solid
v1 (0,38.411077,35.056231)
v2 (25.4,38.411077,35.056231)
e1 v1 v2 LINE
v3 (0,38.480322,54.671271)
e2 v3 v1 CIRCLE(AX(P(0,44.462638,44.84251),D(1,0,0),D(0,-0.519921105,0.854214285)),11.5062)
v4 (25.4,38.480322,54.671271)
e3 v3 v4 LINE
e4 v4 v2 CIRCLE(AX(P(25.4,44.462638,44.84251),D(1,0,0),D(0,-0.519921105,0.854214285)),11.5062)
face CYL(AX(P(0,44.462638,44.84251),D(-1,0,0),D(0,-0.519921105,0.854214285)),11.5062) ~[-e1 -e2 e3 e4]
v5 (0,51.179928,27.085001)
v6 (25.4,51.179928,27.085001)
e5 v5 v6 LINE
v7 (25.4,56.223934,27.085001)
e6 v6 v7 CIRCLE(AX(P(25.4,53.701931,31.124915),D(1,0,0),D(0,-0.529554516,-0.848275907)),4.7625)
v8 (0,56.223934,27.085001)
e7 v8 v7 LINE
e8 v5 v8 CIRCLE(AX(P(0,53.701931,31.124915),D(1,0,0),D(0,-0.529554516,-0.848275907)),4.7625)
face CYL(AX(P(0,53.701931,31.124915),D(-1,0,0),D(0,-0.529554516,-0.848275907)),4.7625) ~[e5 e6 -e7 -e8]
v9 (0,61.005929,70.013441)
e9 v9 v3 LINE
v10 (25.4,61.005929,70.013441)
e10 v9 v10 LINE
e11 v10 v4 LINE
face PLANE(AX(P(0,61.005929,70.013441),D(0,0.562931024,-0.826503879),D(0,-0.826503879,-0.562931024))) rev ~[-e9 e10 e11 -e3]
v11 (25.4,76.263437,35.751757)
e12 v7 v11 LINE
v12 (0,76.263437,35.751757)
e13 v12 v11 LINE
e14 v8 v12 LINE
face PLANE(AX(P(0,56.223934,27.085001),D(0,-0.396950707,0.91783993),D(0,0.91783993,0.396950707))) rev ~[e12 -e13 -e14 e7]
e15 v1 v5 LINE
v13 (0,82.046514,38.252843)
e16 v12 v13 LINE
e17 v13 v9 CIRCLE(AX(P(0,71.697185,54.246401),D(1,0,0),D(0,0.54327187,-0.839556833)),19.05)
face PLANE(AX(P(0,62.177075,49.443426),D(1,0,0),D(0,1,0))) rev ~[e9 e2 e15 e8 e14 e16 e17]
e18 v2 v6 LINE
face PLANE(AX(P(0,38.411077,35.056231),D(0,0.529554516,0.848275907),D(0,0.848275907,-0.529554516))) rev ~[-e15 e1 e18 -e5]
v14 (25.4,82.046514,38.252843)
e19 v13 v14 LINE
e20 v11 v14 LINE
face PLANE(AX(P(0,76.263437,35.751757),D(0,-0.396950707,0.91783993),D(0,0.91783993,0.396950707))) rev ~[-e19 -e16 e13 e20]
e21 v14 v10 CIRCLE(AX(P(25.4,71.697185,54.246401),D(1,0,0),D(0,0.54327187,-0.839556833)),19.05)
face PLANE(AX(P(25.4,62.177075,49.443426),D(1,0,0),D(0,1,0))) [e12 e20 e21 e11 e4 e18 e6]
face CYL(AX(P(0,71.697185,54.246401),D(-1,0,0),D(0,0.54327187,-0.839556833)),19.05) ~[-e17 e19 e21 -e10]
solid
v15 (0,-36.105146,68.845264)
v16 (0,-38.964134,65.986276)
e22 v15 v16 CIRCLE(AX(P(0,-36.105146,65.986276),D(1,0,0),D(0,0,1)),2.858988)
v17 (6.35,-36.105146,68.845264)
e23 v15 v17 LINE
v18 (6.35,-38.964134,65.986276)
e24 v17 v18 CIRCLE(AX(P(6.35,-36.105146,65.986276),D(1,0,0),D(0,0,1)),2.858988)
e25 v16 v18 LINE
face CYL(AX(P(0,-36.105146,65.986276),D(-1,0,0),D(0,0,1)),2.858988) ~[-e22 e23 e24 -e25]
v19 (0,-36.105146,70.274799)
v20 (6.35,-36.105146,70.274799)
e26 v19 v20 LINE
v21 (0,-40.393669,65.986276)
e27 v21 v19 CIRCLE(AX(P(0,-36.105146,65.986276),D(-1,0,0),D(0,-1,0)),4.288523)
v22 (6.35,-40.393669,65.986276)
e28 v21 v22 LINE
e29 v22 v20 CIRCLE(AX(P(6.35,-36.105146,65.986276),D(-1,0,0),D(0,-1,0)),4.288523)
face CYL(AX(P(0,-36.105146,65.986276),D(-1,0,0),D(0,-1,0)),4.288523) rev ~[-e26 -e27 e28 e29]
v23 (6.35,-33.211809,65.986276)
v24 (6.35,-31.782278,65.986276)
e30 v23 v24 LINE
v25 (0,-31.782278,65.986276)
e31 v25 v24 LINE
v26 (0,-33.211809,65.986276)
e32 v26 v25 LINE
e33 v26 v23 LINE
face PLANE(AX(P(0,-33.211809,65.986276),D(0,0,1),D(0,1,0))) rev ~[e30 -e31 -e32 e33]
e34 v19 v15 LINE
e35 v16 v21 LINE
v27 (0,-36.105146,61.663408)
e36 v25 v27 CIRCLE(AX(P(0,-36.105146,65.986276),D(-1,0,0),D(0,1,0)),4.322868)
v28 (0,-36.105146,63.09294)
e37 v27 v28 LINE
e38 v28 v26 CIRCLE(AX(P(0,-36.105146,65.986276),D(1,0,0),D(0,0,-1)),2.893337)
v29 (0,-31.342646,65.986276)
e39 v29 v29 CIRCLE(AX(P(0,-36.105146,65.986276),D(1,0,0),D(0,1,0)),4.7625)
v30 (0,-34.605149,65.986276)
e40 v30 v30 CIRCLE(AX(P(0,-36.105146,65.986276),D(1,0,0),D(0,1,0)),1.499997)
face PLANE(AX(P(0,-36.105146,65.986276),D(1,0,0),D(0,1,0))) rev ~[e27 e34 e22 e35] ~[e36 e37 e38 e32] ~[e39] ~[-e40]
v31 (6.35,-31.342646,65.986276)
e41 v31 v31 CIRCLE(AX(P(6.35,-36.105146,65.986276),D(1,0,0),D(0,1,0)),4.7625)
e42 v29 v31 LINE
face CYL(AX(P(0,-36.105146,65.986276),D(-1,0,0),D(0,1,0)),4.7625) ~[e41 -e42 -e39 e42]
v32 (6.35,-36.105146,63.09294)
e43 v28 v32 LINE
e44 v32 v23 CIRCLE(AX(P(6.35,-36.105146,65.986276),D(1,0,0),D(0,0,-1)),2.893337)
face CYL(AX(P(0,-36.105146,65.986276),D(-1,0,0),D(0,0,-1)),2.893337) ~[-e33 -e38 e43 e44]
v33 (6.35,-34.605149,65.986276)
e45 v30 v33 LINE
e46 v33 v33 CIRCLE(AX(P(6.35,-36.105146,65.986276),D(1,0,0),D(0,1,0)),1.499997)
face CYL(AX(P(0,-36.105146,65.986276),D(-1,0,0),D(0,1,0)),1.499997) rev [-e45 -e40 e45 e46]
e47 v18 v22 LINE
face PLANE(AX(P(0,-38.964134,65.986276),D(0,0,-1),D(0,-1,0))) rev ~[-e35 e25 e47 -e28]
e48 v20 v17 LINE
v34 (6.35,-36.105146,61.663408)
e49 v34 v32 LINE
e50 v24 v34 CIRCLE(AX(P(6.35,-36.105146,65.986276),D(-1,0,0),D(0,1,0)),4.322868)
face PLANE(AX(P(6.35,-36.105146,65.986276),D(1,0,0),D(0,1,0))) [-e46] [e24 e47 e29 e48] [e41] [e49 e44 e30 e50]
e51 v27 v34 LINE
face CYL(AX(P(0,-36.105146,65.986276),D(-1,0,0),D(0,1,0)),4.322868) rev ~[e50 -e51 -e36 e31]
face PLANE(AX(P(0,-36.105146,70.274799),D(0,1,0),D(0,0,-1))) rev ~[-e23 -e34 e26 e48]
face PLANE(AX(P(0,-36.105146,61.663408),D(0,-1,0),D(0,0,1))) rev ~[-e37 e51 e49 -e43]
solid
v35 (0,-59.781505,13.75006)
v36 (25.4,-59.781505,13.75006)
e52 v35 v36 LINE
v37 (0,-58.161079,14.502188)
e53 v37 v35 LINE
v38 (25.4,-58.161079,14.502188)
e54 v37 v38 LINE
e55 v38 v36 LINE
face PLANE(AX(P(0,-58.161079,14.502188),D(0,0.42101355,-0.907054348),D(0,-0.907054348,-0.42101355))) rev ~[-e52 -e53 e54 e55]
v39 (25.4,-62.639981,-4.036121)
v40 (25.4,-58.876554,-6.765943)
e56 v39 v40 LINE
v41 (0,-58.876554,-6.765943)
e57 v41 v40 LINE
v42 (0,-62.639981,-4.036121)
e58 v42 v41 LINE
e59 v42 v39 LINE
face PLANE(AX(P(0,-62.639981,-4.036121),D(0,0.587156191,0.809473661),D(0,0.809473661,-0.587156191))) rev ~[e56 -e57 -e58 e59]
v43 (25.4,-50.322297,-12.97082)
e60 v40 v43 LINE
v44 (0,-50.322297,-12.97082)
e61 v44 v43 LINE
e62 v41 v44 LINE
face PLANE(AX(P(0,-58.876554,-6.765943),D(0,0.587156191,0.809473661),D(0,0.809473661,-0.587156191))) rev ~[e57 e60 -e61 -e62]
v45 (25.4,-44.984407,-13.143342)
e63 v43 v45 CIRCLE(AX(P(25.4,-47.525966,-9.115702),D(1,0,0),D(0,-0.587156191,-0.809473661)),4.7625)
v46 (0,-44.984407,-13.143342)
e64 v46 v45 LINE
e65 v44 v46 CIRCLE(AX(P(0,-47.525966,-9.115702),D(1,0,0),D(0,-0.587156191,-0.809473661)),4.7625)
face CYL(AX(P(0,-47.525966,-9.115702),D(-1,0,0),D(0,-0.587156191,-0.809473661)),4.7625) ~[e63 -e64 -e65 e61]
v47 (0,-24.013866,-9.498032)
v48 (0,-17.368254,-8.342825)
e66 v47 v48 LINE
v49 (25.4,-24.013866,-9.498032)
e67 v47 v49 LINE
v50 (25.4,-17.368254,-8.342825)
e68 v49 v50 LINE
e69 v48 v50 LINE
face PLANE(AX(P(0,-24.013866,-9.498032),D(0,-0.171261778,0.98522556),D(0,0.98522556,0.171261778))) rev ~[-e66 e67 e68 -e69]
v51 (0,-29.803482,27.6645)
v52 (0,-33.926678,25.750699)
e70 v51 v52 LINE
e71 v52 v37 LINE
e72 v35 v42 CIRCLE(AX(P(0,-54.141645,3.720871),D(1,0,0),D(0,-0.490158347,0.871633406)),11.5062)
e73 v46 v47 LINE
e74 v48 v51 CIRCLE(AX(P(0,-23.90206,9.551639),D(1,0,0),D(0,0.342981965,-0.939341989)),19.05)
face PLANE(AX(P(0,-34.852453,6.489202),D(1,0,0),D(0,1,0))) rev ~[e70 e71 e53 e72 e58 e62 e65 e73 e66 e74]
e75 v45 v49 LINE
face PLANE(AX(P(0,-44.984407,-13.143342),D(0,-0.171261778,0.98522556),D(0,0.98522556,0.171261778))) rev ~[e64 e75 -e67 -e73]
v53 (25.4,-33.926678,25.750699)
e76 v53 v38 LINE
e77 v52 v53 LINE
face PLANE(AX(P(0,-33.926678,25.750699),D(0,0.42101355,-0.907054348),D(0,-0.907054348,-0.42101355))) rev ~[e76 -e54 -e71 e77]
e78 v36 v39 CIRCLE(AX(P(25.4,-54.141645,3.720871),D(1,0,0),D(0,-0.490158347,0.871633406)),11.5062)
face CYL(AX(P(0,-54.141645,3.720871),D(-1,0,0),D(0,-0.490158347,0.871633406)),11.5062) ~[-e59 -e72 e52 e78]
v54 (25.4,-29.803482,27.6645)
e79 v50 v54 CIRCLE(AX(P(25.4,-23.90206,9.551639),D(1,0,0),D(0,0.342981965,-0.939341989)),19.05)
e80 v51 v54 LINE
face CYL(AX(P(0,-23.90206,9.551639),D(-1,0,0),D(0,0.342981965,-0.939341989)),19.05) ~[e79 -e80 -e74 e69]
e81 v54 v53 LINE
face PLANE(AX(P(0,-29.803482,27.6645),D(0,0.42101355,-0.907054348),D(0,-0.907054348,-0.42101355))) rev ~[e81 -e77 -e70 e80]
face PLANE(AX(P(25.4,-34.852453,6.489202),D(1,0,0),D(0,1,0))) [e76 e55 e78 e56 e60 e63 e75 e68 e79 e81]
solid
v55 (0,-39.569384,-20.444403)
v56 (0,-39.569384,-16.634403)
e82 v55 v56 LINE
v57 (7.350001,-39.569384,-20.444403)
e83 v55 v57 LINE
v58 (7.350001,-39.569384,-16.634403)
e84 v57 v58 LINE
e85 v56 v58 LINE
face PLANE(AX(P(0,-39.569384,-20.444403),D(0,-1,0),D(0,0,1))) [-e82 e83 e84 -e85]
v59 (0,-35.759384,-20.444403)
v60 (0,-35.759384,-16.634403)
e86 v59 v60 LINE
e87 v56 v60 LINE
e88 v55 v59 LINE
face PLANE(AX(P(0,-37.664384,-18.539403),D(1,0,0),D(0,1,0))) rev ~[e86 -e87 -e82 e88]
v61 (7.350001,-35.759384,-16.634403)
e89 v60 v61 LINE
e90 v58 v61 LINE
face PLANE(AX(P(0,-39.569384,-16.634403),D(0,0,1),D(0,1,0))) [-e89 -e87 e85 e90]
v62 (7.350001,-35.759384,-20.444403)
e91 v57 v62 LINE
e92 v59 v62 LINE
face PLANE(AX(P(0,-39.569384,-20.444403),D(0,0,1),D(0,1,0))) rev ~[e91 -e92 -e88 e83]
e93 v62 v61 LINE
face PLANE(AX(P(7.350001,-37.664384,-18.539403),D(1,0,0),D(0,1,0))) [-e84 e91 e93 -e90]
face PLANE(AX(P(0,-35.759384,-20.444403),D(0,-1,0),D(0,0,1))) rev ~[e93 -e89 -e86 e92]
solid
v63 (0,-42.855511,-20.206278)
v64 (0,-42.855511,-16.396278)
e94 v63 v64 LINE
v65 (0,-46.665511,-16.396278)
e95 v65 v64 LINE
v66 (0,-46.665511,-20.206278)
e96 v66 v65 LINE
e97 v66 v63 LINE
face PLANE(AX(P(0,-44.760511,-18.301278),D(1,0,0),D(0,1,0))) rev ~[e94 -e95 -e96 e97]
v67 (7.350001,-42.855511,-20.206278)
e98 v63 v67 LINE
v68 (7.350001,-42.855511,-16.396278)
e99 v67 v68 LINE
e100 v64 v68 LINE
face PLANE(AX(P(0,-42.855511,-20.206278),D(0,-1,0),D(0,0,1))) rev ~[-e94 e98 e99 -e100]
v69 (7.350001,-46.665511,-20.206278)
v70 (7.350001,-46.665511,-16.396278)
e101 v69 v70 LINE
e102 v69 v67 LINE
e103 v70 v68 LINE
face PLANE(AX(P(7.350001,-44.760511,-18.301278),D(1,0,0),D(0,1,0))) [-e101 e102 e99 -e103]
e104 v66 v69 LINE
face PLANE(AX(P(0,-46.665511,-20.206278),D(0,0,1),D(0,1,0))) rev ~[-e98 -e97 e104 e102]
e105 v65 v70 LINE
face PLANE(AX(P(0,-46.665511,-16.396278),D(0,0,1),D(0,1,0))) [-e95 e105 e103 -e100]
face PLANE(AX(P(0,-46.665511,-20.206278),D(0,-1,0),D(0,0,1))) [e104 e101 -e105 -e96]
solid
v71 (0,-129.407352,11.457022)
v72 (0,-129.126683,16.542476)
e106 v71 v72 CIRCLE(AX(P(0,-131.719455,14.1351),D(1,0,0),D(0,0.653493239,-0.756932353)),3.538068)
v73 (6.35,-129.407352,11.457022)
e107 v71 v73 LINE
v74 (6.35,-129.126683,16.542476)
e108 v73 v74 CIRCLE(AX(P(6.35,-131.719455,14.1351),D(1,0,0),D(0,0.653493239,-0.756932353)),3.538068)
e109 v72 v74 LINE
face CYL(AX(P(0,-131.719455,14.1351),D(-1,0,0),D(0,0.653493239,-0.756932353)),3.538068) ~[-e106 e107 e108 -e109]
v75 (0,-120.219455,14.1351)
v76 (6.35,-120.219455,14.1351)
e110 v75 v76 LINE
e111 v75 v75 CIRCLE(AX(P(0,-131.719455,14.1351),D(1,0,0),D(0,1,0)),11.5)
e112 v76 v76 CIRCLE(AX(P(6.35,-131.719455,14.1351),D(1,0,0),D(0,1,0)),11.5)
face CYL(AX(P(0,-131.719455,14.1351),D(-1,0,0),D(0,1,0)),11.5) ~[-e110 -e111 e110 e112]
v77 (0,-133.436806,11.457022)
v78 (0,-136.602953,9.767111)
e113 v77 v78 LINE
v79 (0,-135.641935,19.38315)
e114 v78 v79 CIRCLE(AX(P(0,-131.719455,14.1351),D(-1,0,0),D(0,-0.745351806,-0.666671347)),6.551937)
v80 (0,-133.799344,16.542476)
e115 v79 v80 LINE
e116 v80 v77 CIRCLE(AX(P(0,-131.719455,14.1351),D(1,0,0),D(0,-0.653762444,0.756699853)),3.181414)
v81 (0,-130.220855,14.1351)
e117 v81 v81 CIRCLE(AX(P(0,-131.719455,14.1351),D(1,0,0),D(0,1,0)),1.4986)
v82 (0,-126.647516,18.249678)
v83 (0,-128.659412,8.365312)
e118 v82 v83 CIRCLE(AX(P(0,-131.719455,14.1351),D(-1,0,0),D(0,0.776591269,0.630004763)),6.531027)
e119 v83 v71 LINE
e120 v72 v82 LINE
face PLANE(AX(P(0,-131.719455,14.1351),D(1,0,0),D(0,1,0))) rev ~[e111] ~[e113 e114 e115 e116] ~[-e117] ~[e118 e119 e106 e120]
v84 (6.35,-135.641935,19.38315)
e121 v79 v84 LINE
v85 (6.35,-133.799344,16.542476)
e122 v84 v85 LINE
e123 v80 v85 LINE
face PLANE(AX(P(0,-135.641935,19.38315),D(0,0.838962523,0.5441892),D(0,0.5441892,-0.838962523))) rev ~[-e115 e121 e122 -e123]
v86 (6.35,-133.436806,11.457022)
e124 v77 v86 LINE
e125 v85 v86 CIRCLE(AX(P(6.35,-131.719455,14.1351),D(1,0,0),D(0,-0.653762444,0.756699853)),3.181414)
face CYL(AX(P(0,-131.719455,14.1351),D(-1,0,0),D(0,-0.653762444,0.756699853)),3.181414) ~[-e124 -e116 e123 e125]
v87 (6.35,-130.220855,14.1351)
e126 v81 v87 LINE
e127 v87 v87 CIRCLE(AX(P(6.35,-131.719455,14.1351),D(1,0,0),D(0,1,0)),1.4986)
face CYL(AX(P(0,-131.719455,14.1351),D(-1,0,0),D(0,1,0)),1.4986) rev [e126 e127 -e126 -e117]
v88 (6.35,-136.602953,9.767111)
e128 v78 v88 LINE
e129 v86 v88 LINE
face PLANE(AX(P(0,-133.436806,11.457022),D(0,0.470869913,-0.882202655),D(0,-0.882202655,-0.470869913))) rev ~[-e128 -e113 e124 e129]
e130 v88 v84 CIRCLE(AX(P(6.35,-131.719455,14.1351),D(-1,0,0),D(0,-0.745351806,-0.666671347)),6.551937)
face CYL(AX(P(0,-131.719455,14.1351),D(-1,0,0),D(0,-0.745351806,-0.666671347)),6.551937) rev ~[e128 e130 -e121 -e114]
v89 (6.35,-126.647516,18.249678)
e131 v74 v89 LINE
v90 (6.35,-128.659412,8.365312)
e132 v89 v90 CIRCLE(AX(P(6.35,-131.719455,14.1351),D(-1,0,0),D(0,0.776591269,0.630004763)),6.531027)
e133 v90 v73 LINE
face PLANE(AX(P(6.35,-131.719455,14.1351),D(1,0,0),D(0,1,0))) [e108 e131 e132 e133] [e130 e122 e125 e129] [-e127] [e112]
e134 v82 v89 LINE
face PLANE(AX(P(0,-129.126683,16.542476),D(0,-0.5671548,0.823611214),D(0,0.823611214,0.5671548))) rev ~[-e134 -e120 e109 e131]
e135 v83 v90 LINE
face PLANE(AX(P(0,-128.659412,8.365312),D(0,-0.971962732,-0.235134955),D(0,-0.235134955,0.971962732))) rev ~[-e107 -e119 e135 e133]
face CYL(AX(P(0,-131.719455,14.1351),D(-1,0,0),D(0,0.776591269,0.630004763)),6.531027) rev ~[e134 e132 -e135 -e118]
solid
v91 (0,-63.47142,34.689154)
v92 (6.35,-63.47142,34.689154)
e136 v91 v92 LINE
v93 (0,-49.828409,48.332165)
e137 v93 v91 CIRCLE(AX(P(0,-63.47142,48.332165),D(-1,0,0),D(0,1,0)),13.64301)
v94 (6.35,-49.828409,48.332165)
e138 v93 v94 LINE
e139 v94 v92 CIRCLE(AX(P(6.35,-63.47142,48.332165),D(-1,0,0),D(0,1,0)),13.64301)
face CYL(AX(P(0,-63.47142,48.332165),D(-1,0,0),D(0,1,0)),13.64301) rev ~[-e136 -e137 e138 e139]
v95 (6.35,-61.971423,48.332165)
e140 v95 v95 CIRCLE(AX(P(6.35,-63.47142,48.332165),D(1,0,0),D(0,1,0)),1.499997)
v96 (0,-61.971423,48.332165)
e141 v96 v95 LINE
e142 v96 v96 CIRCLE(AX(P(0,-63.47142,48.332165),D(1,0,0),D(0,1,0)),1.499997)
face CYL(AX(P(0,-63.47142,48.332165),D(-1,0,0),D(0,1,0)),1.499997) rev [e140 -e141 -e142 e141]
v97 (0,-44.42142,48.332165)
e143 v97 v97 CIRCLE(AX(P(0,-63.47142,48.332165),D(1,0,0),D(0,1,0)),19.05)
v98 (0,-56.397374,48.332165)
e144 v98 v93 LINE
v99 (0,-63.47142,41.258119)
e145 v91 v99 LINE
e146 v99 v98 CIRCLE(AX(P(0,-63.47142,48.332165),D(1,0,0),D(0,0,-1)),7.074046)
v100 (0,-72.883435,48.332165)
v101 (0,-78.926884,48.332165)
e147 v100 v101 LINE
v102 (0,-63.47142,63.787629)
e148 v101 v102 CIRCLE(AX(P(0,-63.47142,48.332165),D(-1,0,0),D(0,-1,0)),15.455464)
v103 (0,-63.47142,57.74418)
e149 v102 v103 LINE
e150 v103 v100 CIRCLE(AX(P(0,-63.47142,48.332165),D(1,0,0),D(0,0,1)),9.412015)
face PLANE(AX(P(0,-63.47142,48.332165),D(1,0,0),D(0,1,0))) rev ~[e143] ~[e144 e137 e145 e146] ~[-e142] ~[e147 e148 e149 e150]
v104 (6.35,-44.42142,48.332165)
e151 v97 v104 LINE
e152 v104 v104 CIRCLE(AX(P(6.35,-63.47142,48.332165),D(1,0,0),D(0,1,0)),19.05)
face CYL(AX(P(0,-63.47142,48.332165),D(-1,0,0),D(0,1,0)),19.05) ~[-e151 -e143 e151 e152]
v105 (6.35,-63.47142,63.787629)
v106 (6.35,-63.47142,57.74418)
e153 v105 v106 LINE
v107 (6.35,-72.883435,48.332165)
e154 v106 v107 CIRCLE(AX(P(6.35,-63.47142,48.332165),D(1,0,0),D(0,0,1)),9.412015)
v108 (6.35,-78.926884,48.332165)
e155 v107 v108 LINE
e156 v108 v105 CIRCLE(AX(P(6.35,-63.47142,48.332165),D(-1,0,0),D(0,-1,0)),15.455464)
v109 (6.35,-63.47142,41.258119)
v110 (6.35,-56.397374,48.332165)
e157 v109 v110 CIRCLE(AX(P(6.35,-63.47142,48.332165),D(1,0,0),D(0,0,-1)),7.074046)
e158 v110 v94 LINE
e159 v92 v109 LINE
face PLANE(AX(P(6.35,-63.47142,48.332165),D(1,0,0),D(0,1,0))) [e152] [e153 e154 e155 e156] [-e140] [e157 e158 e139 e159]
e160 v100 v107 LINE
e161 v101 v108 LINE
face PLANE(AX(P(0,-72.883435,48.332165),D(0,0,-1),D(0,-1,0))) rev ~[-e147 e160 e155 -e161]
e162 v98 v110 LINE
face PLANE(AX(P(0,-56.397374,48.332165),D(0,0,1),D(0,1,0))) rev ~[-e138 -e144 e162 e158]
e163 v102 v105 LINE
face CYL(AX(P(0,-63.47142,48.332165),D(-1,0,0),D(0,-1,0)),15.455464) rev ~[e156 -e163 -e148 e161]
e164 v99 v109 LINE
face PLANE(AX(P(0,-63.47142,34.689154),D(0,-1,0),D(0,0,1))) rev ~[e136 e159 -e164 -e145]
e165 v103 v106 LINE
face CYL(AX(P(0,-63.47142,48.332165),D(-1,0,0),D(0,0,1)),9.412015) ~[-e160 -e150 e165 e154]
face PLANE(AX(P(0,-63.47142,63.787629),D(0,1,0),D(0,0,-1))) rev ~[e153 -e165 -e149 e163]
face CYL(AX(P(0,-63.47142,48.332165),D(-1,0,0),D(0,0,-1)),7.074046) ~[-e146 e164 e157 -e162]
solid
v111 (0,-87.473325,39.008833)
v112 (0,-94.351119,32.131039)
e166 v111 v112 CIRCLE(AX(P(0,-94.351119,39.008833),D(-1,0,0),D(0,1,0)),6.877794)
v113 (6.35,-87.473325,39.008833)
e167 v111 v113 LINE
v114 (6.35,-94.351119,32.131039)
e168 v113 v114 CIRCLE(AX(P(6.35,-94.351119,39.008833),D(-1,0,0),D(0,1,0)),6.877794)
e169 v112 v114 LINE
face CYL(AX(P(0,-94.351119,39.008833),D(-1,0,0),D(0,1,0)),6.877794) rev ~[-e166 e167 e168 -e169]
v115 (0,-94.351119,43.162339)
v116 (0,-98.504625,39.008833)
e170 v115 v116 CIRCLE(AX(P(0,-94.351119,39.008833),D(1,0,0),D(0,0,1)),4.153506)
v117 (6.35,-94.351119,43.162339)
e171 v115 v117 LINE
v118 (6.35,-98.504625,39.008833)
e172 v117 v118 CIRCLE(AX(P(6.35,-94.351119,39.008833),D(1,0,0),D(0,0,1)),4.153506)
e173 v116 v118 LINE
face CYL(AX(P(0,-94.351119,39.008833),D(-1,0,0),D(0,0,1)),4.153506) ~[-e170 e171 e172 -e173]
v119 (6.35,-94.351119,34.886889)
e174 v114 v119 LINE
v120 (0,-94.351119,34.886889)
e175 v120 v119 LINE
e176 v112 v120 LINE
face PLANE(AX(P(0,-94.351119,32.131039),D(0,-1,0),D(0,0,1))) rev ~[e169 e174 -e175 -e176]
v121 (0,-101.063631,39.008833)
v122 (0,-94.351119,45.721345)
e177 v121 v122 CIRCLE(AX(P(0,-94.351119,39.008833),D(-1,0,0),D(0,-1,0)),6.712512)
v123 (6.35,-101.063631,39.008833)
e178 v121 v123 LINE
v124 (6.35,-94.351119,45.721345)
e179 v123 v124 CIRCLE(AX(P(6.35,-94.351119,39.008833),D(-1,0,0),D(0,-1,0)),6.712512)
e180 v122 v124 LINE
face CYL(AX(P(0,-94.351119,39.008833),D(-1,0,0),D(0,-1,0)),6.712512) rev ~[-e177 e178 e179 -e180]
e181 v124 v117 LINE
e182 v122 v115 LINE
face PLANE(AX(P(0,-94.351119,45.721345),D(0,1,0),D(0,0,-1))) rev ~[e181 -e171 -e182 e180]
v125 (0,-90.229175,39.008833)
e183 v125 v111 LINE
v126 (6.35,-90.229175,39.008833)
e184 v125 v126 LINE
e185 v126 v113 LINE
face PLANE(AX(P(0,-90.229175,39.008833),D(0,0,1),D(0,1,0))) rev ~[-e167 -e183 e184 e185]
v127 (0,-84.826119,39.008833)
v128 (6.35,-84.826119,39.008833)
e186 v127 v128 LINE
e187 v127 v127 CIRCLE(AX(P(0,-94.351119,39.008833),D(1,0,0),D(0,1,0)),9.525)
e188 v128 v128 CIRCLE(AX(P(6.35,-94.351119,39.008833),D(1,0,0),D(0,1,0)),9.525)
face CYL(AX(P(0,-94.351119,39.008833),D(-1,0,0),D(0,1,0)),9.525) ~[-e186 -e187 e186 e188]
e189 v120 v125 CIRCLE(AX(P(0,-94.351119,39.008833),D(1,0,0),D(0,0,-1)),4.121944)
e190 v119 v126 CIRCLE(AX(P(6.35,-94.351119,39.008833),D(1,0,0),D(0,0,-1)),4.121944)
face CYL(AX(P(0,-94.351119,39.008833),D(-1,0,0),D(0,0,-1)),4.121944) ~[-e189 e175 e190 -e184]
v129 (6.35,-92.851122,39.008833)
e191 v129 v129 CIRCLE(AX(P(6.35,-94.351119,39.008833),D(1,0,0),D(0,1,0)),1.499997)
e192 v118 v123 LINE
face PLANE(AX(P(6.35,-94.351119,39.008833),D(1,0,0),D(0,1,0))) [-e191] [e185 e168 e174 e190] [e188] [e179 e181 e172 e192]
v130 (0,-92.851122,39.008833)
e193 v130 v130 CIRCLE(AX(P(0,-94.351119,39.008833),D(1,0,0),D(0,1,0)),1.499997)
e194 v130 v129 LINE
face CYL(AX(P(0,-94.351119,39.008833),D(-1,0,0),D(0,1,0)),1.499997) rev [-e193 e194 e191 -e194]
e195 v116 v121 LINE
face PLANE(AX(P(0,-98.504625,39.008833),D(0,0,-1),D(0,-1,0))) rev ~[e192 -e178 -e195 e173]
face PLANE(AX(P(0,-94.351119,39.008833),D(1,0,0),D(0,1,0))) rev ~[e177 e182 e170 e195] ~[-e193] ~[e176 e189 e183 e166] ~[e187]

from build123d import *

# Parameters (mm, degrees)
F1_W     = 3.81
F1_H     = 3.81
F2_DEPTH = 7.35000054
F0_R     = 19.05
F0_R_2   = 1.499997
F3_DEPTH = 6.35
F0_R_3   = 4.7625
F0_R_4   = 9.525
F0_R_5   = 11.5
F0_R_6   = 1.4986
F4_DEPTH = 25.4
F5_DEPTH = 25.4


with BuildPart() as f2:
    # F1 (on Right) → F2 (new body)
    with BuildSketch(Plane.YZ):
        with Locations((-44.7605111825, -18.301277816)):
            Rectangle(F1_W, F1_H)
    extrude(amount=F2_DEPTH)


with BuildPart() as f2b:
    # F1 (on Right) → F2, piece 2 (new body)
    with BuildSketch(Plane.YZ):
        with Locations((-37.6643843636, -18.539402816)):
            Rectangle(F1_W, F1_H)
    extrude(amount=F2_DEPTH)


with BuildPart() as f3:
    # F0 (on Right) → F3 (new body)
    with BuildSketch(Plane.YZ):
        with Locations((-63.4714198452, 48.3321648699)):
            Circle(F0_R)
        with BuildLine():
            Line((-63.4714198452, 34.6891544759), (-63.4714198452, 41.2581190467))
            ThreePointArc((-63.4714198452, 41.2581190467), (-58.4693140731, 43.3300590979), (-56.3973740219, 48.3321648699))
            Line((-56.3973740219, 48.3321648699), (-49.8284094511, 48.3321648699))
            ThreePointArc((-49.8284094511, 48.3321648699), (-53.8243546798, 38.6850997045), (-63.4714198452, 34.6891544759))
        make_face(mode=Mode.SUBTRACT)
        with Locations((-63.4714198452, 48.3321648699)):
            Circle(F0_R_2, mode=Mode.SUBTRACT)
        with BuildLine():
            ThreePointArc((-63.4714198452, 57.7441796185), (-70.1267192985, 54.9874643232), (-72.8834345937, 48.3321648699))
            Line((-72.8834345937, 48.3321648699), (-78.9268836379, 48.3321648699))
            ThreePointArc((-78.9268836379, 48.3321648699), (-74.4000830994, 59.2608281242), (-63.4714198452, 63.7876286627))
            Line((-63.4714198452, 63.7876286627), (-63.4714198452, 57.7441796185))
        make_face(mode=Mode.SUBTRACT)
    extrude(amount=F3_DEPTH)


with BuildPart() as f3b:
    # F0 (on Right) → F3, piece 2 (new body)
    with BuildSketch(Plane.YZ):
        with Locations((-36.1051460727, 65.9862762386)):
            Circle(F0_R_3)
        with BuildLine():
            Line((-36.1051460727, 61.6634078324), (-36.1051460727, 63.0929395556))
            ThreePointArc((-36.1051460727, 63.0929395556), (-34.0592480839, 63.9403782498), (-33.2118093897, 65.9862762386))
            Line((-33.2118093897, 65.9862762386), (-31.7822776665, 65.9862762386))
            ThreePointArc((-31.7822776665, 65.9862762386), (-33.0484165085, 62.9295466744), (-36.1051460727, 61.6634078324))
        make_face(mode=Mode.SUBTRACT)
        with Locations((-36.1051460727, 65.9862762386)):
            Circle(F0_R_2, mode=Mode.SUBTRACT)
        with BuildLine():
            ThreePointArc((-36.1051460727, 68.8452638756), (-38.1267556181, 68.0078857841), (-38.9641337097, 65.9862762386))
            Line((-38.9641337097, 65.9862762386), (-40.3936691582, 65.9862762386))
            ThreePointArc((-40.3936691582, 65.9862762386), (-39.1375898277, 69.0187199937), (-36.1051460727, 70.2747993241))
            Line((-36.1051460727, 70.2747993241), (-36.1051460727, 68.8452638756))
        make_face(mode=Mode.SUBTRACT)
    extrude(amount=F3_DEPTH)


with BuildPart() as f3c:
    # F0 (on Right) → F3, piece 3 (new body)
    with BuildSketch(Plane.YZ):
        with Locations((-94.3511191739, 39.0088330027)):
            Circle(F0_R_4)
        with BuildLine():
            ThreePointArc((-87.4733247774, 39.0088330027), (-89.4877841165, 34.1454979453), (-94.3511191739, 32.1310386062))
            Line((-94.3511191739, 32.1310386062), (-94.3511191739, 34.8868891597))
            ThreePointArc((-94.3511191739, 34.8868891597), (-91.4364647309, 36.0941785596), (-90.2291753309, 39.0088330027))
            Line((-90.2291753309, 39.0088330027), (-87.4733247774, 39.0088330027))
        make_face(mode=Mode.SUBTRACT)
        with Locations((-94.3511191739, 39.0088330027)):
            Circle(F0_R_2, mode=Mode.SUBTRACT)
        with BuildLine():
            Line((-98.5046252608, 39.0088330027), (-101.063631475, 39.0088330027))
            ThreePointArc((-101.063631475, 39.0088330027), (-99.0975821408, 43.7552959696), (-94.3511191739, 45.7213453037))
            Line((-94.3511191739, 45.7213453037), (-94.3511191739, 43.1623390896))
            ThreePointArc((-94.3511191739, 43.1623390896), (-97.2880914937, 41.9458053224), (-98.5046252608, 39.0088330027))
        make_face(mode=Mode.SUBTRACT)
    extrude(amount=F3_DEPTH)


with BuildPart() as f3d:
    # F0 (on Right) → F3, piece 4 (new body)
    with BuildSketch(Plane.YZ):
        with Locations((-131.7194551229, 14.1350999475)):
            Circle(F0_R_5)
        with BuildLine():
            ThreePointArc((-126.6475162499, 18.2496783274), (-125.3196537335, 12.8324636385), (-128.6594122648, 8.3653116599))
            Line((-128.6594122648, 8.3653116599), (-129.4073515506, 11.4570217448))
            ThreePointArc((-129.4073515506, 11.4570217448), (-128.1867632167, 13.9401289647), (-129.1266828775, 16.5424756706))
            Line((-129.1266828775, 16.5424756706), (-126.6475162499, 18.2496783274))
        make_face(mode=Mode.SUBTRACT)
        with BuildLine():
            Line((-133.4368059918, 11.4570217448), (-136.6029530764, 9.7671113908))
            ThreePointArc((-136.6029530764, 9.7671113908), (-138.2389152344, 14.7866489839), (-135.6419347373, 19.3831500584))
            Line((-135.6419347373, 19.3831500584), (-133.7993443012, 16.5424756706))
            ThreePointArc((-133.7993443012, 16.5424756706), (-134.8928158654, 13.9088733695), (-133.4368059918, 11.4570217448))
        make_face(mode=Mode.SUBTRACT)
        with Locations((-131.7194551229, 14.1350999475)):
            Circle(F0_R_6, mode=Mode.SUBTRACT)
    extrude(amount=F3_DEPTH)


with BuildPart() as f4:
    # F0 (on Right) → F4 (new body)
    with BuildSketch(Plane.YZ):
        with BuildLine():
            Line((-44.9844066674, -13.1433418189), (-24.0138664913, -9.4980324265))
            Line((-24.0138664913, -9.4980324265), (-17.3682536164, -8.3428254158))
            ThreePointArc((-17.3682536164, -8.3428254158), (-5.8956209633, 15.770212574), (-29.8034821706, 27.6645000087))
            Line((-29.8034821706, 27.6645000087), (-33.9266775087, 25.7506994656))
            Line((-33.9266775087, 25.7506994656), (-58.1610789035, 14.502187875))
            Line((-58.1610789035, 14.502187875), (-59.7815049134, 13.7500595076))
            ThreePointArc((-59.7815049134, 13.7500595076), (-65.502067365, 5.546642504), (-62.6399811027, -4.0361205383))
            Line((-62.6399811027, -4.0361205383), (-58.8765542048, -6.7659430233))
            Line((-58.8765542048, -6.7659430233), (-50.3222974662, -12.9708203918))
            ThreePointArc((-50.3222974662, -12.9708203918), (-47.679810488, -13.8757165934), (-44.9844066674, -13.1433418189))
        make_face()
    extrude(amount=F4_DEPTH)


with BuildPart() as f5:
    # F0 (on Right) → F5 (new body)
    with BuildSketch(Plane.YZ):
        with BuildLine():
            Line((38.4110773648, 35.0562312206), (51.1799276346, 27.0850012639))
            ThreePointArc((51.1799276346, 27.0850012639), (53.7019310165, 26.3624152719), (56.2239343983, 27.0850012639))
            Line((56.2239343983, 27.0850012639), (76.2634365035, 35.7517570543))
            Line((76.2634365035, 35.7517570543), (82.0465136748, 38.2528430243))
            ThreePointArc((82.0465136748, 38.2528430243), (87.5784037852, 64.7673025363), (61.0059292553, 70.0134409982))
            Line((61.0059292553, 70.0134409982), (38.4803215482, 54.6712705412))
            ThreePointArc((38.4803215482, 54.6712705412), (32.9565094667, 44.8831285876), (38.4110773648, 35.0562312206))
        make_face()
    extrude(amount=F5_DEPTH)


solid = Compound([f2.part, f2b.part, f3.part, f3b.part, f3c.part, f3d.part, f4.part, f5.part])
